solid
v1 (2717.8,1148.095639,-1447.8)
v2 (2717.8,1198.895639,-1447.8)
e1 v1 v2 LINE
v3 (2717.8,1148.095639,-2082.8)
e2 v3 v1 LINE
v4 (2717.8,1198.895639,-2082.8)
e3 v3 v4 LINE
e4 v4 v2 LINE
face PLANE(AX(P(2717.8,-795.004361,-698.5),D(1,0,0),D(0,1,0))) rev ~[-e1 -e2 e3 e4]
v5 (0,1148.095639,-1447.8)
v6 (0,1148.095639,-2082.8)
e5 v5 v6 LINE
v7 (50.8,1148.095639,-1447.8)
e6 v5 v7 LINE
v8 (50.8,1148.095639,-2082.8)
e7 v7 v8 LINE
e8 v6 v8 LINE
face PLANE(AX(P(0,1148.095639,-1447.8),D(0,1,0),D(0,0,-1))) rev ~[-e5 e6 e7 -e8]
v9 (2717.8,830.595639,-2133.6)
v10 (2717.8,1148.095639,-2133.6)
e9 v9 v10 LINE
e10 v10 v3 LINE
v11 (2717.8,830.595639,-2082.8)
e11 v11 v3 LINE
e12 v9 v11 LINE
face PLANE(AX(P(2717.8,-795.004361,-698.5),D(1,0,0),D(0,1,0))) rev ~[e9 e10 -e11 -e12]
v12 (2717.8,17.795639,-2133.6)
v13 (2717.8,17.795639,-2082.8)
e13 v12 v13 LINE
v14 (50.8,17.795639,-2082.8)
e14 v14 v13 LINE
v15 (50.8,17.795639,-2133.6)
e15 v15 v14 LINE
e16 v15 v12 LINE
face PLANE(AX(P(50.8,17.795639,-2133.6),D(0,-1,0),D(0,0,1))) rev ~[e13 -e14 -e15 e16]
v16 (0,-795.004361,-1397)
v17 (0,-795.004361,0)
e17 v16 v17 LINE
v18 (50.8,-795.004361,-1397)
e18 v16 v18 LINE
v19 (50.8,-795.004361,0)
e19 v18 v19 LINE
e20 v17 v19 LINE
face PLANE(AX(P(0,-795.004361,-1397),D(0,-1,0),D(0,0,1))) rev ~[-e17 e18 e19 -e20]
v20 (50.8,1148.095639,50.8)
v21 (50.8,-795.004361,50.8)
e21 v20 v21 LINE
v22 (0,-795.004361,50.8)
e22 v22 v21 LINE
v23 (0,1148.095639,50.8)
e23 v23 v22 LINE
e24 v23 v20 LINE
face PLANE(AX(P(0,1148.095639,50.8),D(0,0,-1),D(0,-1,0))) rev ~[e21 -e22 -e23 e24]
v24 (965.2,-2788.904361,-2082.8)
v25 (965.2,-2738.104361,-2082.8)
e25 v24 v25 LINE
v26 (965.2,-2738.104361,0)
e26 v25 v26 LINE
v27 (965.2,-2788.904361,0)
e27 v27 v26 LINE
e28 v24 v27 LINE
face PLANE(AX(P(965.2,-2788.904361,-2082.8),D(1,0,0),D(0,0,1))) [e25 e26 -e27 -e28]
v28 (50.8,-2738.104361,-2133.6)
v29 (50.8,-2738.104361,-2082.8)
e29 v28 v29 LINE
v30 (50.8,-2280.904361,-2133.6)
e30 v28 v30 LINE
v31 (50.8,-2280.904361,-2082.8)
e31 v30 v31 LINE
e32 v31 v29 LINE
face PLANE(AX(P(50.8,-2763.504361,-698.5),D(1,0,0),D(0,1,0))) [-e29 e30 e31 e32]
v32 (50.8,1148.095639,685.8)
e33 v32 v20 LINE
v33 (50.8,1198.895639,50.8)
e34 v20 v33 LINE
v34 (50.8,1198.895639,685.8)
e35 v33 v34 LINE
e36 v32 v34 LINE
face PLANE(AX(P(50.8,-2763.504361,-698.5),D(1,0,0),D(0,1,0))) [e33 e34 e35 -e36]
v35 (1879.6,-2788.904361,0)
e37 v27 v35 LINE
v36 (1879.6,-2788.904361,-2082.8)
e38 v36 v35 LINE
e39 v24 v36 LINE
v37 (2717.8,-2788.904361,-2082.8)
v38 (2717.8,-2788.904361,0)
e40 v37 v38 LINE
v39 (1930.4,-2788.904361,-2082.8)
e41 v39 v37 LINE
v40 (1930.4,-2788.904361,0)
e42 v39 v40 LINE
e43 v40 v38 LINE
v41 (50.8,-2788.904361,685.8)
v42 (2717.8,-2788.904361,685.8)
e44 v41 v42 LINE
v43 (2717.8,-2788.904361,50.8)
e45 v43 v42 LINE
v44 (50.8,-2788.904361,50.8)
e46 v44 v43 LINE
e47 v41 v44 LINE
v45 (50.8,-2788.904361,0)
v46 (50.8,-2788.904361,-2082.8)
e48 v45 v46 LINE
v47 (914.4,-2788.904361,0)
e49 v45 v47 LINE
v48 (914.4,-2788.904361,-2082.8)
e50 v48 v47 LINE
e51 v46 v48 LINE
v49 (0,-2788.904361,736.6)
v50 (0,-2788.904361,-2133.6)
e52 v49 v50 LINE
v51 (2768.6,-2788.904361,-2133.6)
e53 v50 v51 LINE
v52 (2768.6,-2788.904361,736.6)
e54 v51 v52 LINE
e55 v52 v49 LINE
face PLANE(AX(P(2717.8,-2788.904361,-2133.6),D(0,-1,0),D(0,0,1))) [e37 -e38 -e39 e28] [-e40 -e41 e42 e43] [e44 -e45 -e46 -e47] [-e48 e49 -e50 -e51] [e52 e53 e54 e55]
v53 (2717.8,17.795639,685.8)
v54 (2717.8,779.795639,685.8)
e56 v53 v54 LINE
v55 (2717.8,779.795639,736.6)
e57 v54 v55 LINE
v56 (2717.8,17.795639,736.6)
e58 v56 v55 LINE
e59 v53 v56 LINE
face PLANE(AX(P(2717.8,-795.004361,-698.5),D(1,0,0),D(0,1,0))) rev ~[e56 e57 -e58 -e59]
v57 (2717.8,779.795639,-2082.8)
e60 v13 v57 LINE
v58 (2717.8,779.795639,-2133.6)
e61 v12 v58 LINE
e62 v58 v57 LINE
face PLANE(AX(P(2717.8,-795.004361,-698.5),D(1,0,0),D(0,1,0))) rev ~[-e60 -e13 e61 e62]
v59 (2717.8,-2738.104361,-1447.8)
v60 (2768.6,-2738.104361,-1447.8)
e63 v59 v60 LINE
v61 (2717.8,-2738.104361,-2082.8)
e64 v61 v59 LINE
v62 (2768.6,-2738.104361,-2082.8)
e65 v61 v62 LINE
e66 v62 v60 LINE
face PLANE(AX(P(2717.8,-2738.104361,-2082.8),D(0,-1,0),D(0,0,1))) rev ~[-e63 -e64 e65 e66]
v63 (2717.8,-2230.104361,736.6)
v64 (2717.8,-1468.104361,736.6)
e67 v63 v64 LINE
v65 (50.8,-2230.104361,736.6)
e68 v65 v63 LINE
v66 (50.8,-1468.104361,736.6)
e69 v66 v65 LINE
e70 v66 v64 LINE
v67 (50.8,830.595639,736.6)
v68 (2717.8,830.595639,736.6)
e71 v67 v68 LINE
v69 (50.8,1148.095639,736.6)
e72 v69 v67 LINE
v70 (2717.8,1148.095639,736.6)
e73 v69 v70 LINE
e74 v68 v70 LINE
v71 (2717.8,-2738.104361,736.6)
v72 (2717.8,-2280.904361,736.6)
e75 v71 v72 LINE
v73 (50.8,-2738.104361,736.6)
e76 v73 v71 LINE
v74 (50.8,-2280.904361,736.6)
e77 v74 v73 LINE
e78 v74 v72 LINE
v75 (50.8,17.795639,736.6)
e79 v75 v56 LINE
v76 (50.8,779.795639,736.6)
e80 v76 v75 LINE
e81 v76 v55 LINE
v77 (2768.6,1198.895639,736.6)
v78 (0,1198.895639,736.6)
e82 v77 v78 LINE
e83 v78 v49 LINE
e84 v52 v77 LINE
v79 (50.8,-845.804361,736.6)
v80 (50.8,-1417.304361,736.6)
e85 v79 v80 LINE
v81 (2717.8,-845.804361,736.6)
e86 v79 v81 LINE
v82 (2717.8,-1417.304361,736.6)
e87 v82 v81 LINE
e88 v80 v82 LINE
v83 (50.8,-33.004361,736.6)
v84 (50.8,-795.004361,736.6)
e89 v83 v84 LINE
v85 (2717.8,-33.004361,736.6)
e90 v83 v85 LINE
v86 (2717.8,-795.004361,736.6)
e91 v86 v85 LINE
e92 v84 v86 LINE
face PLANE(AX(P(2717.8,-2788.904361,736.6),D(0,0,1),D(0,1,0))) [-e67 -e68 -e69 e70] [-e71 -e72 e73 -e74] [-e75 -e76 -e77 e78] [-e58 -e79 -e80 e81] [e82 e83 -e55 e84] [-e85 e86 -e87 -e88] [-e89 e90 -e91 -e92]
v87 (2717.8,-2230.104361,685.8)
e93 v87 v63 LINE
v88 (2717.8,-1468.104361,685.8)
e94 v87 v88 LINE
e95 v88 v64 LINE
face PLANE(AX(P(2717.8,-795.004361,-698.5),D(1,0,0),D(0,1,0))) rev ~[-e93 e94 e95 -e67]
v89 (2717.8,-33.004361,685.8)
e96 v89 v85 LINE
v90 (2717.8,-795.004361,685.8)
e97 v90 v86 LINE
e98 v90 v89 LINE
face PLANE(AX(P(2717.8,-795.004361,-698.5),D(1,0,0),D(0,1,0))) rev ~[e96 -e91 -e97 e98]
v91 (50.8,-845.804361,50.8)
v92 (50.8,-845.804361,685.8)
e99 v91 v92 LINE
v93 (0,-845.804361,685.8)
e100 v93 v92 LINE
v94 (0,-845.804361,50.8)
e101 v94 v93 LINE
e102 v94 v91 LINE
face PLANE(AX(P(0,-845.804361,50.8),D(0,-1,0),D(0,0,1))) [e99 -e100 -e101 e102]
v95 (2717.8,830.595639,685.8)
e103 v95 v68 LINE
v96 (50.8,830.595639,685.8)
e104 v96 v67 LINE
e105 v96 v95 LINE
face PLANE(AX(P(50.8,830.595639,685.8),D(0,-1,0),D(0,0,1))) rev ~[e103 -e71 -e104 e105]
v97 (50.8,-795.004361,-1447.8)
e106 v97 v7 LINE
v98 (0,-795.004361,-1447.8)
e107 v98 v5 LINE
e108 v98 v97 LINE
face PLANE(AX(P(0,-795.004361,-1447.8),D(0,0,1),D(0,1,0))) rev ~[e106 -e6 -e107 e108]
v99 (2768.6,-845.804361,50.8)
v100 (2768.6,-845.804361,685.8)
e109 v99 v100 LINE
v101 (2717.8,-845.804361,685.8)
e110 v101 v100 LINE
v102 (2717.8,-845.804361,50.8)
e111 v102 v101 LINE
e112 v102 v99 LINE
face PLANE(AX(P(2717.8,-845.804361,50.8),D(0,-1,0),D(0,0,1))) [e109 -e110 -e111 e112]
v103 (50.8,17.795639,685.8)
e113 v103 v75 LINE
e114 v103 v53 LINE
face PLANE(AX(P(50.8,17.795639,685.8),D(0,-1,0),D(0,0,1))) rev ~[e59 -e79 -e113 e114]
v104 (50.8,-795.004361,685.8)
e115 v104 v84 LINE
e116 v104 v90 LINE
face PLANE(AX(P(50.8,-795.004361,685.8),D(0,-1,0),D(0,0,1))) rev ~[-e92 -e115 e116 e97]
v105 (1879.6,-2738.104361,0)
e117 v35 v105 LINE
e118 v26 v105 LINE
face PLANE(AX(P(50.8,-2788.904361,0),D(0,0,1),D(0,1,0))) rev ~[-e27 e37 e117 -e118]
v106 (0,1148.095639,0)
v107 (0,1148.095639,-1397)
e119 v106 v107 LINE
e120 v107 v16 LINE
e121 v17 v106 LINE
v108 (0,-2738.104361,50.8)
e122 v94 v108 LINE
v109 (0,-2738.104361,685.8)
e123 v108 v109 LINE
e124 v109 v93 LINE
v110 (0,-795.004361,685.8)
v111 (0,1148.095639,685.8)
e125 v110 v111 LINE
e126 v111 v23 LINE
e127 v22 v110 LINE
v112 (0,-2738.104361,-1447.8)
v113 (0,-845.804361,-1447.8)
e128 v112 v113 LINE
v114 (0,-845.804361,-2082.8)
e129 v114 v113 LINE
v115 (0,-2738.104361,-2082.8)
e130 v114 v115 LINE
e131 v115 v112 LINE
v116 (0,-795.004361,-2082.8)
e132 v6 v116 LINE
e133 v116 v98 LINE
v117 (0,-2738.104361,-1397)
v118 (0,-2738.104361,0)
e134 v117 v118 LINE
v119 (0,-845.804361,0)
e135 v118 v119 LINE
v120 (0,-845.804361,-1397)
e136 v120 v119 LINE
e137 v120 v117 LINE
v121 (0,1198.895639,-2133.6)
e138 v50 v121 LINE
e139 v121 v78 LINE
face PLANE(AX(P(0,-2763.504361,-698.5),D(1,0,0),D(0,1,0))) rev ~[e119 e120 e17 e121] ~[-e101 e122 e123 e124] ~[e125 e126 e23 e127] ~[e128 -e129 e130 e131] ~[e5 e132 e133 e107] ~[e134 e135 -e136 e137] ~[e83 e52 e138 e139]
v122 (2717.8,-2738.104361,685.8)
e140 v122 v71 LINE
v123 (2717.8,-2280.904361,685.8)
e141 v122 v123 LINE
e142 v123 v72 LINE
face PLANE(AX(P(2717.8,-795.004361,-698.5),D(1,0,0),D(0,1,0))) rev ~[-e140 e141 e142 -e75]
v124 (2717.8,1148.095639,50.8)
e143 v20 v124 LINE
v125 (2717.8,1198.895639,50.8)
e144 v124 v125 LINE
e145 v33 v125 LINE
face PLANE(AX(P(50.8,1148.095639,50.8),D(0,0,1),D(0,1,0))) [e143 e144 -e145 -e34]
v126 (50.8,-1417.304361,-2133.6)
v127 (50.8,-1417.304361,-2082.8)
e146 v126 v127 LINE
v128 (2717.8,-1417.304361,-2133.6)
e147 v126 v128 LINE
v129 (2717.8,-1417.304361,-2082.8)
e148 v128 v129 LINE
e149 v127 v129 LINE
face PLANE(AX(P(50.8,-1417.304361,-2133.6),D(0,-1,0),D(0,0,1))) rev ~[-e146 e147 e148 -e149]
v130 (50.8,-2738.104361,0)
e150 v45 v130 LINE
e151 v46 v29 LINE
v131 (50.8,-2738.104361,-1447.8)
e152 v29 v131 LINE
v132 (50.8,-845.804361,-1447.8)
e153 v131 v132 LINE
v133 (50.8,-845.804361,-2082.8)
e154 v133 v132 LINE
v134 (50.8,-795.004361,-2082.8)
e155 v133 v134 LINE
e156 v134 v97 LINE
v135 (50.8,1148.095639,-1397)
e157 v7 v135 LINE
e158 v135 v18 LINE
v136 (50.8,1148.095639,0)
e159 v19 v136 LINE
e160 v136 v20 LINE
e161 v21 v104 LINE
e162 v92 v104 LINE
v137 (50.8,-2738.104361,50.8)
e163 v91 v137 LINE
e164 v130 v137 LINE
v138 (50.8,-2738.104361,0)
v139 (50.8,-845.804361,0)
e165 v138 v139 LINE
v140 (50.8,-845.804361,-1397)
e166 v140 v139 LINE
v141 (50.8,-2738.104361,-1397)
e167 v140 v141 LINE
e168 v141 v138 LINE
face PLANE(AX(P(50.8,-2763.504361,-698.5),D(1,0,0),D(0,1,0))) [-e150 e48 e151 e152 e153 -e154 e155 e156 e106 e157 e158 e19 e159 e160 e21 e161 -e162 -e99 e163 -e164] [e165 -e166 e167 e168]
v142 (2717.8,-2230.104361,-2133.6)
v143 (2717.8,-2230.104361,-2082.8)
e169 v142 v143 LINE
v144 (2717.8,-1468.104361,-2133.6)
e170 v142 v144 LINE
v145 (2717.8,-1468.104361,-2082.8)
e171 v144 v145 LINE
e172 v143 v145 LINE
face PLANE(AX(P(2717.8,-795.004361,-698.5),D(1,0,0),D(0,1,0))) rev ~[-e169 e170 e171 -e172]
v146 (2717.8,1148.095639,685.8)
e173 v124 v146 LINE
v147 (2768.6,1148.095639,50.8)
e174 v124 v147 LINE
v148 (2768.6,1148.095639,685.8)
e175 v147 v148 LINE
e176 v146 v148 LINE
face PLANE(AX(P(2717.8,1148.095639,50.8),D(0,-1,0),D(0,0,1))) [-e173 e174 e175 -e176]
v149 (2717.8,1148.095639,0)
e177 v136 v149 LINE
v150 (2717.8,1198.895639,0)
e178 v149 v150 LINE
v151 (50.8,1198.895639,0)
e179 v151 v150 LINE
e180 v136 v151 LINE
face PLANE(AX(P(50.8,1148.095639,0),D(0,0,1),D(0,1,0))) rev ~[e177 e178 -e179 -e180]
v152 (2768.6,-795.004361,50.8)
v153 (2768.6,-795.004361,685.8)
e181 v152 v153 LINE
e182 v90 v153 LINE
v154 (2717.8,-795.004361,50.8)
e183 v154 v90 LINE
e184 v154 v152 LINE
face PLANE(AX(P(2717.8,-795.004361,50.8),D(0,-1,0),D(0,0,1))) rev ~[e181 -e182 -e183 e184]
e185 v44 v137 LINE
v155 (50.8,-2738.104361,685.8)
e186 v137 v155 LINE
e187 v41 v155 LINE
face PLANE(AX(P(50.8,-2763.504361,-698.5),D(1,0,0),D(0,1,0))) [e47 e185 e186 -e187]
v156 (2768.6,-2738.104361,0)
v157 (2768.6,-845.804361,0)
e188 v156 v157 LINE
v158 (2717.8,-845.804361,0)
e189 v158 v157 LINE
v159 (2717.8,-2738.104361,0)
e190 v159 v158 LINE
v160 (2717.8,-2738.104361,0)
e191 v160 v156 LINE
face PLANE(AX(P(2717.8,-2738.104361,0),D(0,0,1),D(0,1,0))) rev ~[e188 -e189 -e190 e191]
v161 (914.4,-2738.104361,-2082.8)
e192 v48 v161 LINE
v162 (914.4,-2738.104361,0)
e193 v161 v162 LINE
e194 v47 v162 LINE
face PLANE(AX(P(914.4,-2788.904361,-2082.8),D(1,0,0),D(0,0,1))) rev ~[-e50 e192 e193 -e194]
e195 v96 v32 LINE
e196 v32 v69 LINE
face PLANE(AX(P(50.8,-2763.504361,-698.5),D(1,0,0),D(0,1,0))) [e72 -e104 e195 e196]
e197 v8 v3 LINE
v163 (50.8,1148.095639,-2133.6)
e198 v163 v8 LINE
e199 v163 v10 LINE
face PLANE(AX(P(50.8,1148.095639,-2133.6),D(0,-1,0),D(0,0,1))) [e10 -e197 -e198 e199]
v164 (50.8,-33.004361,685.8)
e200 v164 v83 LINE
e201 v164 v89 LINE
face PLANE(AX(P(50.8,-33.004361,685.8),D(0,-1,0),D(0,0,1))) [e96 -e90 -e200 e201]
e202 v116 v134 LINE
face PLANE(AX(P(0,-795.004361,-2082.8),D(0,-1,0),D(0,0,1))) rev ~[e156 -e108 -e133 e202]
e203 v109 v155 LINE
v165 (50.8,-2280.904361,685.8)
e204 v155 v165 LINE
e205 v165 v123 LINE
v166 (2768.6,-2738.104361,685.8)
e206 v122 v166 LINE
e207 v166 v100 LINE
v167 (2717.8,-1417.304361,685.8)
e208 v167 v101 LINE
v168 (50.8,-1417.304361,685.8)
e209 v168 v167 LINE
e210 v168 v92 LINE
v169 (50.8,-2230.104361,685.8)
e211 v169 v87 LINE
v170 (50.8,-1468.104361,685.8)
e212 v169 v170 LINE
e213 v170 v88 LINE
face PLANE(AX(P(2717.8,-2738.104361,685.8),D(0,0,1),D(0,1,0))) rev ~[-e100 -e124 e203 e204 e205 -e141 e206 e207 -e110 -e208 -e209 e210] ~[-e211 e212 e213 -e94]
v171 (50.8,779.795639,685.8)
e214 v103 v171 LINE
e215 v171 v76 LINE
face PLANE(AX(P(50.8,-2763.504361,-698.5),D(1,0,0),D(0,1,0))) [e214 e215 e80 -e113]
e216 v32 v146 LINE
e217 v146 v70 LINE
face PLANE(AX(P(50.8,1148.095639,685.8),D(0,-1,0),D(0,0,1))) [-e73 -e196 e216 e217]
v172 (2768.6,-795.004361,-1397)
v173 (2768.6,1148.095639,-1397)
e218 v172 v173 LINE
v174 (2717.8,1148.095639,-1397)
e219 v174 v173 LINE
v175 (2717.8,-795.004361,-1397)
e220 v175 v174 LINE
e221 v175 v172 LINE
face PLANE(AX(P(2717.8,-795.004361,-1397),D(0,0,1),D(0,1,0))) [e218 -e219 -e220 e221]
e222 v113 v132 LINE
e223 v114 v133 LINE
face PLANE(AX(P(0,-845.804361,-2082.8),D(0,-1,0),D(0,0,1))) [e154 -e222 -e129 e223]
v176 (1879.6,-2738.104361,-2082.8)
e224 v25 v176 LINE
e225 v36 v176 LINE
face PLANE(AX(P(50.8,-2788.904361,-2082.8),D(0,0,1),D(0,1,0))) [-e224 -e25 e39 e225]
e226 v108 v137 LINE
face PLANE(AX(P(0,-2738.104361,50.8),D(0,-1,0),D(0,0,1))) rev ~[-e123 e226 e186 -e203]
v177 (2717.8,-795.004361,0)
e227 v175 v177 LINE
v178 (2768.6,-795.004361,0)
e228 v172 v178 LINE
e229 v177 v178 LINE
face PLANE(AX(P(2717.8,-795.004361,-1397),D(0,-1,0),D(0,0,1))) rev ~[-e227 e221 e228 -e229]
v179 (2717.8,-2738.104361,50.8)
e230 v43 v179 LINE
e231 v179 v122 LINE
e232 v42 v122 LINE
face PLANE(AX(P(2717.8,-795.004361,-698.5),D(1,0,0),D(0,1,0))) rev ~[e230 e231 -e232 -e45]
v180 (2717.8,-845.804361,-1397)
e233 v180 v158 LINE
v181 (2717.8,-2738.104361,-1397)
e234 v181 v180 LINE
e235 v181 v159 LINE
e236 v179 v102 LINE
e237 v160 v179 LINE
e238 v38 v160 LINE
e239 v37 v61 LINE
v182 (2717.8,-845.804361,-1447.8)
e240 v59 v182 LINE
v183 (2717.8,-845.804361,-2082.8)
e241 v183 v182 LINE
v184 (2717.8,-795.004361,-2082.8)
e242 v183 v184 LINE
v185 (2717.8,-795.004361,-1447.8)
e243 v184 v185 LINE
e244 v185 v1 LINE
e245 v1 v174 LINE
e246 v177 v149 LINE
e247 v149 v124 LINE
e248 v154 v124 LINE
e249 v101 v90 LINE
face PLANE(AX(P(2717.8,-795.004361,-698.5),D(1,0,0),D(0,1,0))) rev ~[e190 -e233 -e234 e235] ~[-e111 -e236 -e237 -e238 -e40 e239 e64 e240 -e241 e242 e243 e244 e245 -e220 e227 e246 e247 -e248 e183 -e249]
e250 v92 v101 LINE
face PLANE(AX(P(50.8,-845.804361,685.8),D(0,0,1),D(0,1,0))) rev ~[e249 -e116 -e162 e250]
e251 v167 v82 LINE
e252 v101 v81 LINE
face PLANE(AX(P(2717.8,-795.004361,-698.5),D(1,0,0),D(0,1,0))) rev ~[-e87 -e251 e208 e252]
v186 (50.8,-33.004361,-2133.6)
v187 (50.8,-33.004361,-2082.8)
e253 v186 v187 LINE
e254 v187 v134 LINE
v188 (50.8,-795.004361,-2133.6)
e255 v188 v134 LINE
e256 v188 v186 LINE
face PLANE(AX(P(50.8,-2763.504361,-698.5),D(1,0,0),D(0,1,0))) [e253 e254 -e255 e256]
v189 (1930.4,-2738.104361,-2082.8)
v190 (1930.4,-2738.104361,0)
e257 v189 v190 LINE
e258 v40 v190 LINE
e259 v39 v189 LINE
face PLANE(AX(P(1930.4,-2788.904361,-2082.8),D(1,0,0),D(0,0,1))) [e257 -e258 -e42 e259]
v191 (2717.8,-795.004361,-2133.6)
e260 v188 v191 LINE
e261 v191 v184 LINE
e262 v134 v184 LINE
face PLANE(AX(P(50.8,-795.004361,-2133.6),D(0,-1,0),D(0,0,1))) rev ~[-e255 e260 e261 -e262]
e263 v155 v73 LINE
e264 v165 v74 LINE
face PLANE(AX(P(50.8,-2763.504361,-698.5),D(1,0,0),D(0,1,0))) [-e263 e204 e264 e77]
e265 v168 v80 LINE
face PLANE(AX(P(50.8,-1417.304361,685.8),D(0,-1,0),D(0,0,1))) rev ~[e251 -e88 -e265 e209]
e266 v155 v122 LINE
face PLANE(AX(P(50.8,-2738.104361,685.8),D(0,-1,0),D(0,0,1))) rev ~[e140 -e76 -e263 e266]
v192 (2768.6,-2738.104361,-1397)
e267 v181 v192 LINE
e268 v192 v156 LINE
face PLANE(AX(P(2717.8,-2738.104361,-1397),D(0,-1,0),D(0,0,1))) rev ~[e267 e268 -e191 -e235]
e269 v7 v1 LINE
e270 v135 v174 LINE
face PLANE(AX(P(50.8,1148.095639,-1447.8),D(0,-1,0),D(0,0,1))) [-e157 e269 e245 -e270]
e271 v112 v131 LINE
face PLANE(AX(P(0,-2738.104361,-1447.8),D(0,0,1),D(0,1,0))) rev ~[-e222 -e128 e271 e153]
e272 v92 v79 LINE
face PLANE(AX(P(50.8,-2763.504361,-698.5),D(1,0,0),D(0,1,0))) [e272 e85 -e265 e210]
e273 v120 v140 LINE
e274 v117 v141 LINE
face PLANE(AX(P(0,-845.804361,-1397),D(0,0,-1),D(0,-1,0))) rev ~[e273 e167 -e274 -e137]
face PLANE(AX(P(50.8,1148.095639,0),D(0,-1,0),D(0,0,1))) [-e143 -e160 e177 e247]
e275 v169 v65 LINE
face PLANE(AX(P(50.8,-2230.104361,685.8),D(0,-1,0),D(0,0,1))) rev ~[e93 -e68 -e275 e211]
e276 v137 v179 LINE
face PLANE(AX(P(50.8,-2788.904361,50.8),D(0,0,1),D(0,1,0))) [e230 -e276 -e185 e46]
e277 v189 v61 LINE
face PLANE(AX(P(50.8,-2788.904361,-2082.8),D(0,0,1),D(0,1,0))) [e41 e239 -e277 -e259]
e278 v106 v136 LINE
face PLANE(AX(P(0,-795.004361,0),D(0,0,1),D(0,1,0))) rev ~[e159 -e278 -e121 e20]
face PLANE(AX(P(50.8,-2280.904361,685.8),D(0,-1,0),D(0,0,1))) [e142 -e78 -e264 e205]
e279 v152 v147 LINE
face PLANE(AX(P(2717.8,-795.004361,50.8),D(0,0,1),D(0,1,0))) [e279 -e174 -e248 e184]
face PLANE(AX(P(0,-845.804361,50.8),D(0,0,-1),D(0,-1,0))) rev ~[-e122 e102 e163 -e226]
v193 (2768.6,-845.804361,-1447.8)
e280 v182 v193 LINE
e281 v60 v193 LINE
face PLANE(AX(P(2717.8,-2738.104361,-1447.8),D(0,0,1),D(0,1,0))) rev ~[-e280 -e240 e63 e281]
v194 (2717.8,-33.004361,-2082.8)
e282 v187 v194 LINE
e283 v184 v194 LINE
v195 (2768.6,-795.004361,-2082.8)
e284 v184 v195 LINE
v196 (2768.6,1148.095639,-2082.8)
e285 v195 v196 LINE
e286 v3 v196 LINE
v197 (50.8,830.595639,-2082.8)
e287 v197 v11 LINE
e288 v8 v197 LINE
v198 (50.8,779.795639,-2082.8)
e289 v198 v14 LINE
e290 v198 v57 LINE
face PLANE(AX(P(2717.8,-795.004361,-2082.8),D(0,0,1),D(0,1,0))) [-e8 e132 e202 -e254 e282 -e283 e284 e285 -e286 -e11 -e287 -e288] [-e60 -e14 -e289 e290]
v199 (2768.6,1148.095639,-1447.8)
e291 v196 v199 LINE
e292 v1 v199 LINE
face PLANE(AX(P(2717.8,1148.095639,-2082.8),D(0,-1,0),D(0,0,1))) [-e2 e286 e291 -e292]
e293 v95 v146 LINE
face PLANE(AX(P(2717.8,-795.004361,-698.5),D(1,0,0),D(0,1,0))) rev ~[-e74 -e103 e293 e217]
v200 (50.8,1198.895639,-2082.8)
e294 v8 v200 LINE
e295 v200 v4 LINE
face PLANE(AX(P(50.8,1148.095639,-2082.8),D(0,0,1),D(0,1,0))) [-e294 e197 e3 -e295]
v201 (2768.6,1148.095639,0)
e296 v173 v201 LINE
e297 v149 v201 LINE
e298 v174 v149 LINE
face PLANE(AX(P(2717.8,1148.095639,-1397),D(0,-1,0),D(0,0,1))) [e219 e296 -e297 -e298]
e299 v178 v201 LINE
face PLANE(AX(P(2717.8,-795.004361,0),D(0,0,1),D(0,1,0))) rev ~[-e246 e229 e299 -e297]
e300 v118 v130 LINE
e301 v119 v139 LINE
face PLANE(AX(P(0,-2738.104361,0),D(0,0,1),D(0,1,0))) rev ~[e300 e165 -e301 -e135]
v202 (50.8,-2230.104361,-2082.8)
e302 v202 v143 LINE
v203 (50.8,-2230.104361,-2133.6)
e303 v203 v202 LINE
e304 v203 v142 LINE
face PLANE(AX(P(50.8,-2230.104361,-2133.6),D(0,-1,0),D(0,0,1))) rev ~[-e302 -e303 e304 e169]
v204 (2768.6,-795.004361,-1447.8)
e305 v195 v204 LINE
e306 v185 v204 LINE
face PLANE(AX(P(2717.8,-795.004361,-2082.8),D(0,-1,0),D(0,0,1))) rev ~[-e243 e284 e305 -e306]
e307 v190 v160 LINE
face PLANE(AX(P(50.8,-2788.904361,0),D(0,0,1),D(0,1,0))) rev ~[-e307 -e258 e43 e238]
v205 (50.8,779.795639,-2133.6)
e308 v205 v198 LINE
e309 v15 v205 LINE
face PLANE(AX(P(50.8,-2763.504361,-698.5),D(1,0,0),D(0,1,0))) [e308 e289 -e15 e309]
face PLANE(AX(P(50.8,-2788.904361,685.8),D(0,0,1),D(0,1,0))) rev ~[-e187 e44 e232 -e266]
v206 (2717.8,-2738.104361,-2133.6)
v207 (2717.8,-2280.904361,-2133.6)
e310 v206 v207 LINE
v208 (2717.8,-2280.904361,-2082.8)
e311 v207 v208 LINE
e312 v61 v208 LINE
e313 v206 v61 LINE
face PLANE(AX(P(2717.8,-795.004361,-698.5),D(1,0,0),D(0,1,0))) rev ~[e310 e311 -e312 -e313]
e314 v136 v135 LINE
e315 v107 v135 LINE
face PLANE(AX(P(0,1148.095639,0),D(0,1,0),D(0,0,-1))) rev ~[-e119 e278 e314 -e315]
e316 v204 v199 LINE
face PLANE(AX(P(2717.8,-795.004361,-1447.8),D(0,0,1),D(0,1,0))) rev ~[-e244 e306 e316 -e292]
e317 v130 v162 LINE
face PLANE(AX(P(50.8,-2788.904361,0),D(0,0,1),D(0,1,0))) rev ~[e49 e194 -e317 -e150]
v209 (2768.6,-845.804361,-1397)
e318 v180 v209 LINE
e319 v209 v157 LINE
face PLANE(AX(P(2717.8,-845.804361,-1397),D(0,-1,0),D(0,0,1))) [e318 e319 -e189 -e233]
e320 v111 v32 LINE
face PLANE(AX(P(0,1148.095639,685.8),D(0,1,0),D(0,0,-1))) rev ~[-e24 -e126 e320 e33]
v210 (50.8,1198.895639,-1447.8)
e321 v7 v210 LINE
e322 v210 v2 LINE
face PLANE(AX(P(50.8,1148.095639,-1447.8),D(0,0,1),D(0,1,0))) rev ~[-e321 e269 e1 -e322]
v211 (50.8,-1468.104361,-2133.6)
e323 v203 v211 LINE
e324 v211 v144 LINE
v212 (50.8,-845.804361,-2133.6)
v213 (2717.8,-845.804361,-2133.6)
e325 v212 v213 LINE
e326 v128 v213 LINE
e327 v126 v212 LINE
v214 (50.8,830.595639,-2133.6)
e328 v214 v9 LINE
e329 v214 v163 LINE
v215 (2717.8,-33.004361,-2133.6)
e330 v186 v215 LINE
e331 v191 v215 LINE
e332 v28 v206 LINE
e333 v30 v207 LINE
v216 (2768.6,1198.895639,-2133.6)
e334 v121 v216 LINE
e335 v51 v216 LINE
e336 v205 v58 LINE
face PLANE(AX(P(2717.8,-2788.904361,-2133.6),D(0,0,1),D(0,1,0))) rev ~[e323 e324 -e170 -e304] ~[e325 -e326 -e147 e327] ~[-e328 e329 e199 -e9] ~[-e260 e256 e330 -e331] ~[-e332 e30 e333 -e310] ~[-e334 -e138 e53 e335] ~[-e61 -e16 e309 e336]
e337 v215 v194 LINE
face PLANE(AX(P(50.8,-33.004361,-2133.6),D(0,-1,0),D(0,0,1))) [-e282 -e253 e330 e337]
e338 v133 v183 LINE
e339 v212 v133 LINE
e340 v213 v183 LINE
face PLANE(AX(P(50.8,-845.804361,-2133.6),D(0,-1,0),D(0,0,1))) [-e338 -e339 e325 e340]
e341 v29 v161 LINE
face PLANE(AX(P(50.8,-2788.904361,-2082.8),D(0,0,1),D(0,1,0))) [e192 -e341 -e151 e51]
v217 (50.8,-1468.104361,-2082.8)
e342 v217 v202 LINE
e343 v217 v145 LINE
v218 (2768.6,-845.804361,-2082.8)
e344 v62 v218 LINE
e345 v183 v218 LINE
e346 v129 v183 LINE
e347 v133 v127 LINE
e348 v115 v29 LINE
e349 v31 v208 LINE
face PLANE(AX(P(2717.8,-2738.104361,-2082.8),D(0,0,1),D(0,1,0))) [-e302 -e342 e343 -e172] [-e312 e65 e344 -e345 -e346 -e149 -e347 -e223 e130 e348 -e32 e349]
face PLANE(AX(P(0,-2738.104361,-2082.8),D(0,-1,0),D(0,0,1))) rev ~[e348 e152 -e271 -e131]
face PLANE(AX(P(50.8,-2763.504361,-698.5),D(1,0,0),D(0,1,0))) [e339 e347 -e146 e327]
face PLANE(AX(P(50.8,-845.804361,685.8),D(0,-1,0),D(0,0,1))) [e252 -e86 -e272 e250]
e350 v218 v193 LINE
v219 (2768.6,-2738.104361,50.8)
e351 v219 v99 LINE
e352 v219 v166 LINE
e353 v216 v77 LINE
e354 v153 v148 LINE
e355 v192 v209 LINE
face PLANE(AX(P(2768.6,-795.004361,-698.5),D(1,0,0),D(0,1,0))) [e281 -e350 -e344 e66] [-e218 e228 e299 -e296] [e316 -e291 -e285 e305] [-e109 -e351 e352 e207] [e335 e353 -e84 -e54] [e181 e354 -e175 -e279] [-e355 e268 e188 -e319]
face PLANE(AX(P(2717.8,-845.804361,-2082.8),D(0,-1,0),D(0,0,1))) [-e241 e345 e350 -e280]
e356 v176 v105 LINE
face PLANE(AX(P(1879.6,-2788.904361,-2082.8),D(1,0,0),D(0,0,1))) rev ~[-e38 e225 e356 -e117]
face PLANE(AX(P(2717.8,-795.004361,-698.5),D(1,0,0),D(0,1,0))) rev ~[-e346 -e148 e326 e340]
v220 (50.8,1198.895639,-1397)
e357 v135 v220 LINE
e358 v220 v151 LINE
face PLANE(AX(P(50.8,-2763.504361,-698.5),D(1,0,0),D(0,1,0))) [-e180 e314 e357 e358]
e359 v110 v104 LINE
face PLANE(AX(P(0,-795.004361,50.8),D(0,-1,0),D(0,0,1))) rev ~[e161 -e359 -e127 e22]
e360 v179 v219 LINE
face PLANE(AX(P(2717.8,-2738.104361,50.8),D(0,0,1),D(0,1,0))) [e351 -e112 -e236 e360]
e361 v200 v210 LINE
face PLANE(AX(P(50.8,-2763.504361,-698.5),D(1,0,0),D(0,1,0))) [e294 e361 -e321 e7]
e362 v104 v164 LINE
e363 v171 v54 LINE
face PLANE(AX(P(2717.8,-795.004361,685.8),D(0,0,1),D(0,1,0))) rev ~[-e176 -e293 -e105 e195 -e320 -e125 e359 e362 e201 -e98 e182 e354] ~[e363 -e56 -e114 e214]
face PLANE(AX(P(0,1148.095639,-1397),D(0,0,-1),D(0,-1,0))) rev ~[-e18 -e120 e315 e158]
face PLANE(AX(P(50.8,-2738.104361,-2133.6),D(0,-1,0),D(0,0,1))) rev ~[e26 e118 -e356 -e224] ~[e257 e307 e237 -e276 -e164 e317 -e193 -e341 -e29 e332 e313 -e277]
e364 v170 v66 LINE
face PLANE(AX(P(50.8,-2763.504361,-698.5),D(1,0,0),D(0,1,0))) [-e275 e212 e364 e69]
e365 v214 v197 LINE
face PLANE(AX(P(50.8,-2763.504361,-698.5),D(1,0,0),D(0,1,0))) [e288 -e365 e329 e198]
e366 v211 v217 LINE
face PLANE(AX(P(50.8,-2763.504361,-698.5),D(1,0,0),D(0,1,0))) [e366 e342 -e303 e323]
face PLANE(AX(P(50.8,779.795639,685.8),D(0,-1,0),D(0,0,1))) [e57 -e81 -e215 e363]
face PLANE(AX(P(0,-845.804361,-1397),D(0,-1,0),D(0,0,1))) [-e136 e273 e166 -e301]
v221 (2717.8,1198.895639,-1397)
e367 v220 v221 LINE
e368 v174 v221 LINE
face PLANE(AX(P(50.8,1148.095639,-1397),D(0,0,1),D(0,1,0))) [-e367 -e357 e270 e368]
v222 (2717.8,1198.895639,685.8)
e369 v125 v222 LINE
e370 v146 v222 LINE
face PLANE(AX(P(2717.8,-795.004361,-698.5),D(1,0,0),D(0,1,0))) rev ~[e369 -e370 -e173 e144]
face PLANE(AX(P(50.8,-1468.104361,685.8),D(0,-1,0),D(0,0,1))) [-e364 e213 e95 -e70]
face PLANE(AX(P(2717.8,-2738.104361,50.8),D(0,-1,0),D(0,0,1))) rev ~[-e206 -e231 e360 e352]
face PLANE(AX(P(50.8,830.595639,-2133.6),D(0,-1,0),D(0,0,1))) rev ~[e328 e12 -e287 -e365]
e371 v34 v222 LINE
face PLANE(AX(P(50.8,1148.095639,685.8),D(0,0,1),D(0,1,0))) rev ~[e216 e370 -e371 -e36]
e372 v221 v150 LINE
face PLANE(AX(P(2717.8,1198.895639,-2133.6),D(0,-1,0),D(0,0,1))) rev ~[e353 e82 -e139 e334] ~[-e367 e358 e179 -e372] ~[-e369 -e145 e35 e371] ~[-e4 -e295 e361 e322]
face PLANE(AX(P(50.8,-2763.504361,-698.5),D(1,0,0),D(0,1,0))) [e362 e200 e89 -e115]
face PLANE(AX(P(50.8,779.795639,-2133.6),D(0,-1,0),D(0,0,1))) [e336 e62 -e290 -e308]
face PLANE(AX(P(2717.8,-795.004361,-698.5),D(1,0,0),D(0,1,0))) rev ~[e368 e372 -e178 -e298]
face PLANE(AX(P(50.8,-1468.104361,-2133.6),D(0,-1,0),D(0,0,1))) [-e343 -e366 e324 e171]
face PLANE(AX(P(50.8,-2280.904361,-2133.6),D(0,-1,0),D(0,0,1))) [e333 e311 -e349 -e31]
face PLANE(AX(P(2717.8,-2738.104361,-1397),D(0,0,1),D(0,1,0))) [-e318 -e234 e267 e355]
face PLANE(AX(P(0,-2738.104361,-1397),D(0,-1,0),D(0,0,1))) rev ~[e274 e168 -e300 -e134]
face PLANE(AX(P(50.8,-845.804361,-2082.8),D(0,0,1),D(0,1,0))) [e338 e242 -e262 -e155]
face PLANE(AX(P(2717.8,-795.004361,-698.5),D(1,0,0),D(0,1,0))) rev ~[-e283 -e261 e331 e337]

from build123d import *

# Parameters (mm, degrees)
F0_W     = 50.8
F0_H     = 635
F0_H_2   = 1397
F1_DEPTH = 50.8
F2_W     = 50.8
F2_H     = 50.8
F3_DEPTH = 2667
F4_W     = 50.8
F4_H     = 2082.8
F5_DEPTH = 50.8
F6_W     = 3987.8
F6_H     = 2870.2
F6_W_2   = 1892.3
F6_H_2   = 635
F6_H_3   = 1397
F6_W_3   = 1943.1
F7_DEPTH = 50.8


with BuildPart() as f1:
    # F0 (on Right) → F1 (new body)
    with BuildSketch(Plane.YZ):
        Polygon((-2738.104361, 736.6), (-2788.904361, 736.6), (-2788.904361, -2133.6), (-2738.104361, -2133.6), (-2738.104361, -2082.8), (-2738.104361, -1447.8), (-2738.104361, -1397), (-2738.104361, 0), (-2738.104361, 50.8), (-2738.104361, 685.8), align=None)
        Polygon((1148.095639, 736.6), (-2738.104361, 736.6), (-2738.104361, 685.8), (-845.804361, 685.8), (-795.004361, 685.8), (1148.095639, 685.8), align=None)
        Polygon((1198.895639, 736.6), (1148.095639, 736.6), (1148.095639, 685.8), (1148.095639, 50.8), (1148.095639, 0), (1148.095639, -1397), (1148.095639, -1447.8), (1148.095639, -2082.8), (1148.095639, -2133.6), (1198.895639, -2133.6), align=None)
        Polygon((-2738.104361, -2082.8), (-2738.104361, -2133.6), (1148.095639, -2133.6), (1148.095639, -2082.8), (-795.004361, -2082.8), (-845.804361, -2082.8), align=None)
        Polygon((-845.804361, 50.8), (-2738.104361, 50.8), (-2738.104361, 0), (-845.804361, 0), (-795.004361, 0), (1148.095639, 0), (1148.095639, 50.8), (-795.004361, 50.8), align=None)
        with Locations((-820.404361, 368.3)):
            Rectangle(F0_W, F0_H)
        with Locations((-820.404361, -698.5)):
            Rectangle(F0_W, F0_H_2)
        with Locations((-820.404361, -1765.3)):
            Rectangle(F0_W, F0_H)
        Polygon((-2738.104361, -1397), (-2738.104361, -1447.8), (-845.804361, -1447.8), (-795.004361, -1447.8), (1148.095639, -1447.8), (1148.095639, -1397), (-795.004361, -1397), (-845.804361, -1397), align=None)
    extrude(amount=F1_DEPTH)

    # F2 (on face) → F3 (join)
    with BuildSketch(Plane.YZ.offset(50.8)):
        with Locations((-2763.504361, 711.2)):
            Rectangle(F2_W, F2_H)
        with Locations((-2763.504361, 25.4)):
            Rectangle(F2_W, F2_H)
        with Locations((-2763.504361, -2108.2)):
            Rectangle(F2_W, F2_H)
        with Locations((-820.404361, -2108.2)):
            Rectangle(F2_W, F2_H)
        with Locations((1173.495639, -2108.2)):
            Rectangle(F2_W, F2_H)
        with Locations((1173.495639, -1422.4)):
            Rectangle(F2_W, F2_H)
        with Locations((1173.495639, 25.4)):
            Rectangle(F2_W, F2_H)
        with Locations((1173.495639, 711.2)):
            Rectangle(F2_W, F2_H)
        with Locations((-820.404361, 711.2)):
            Rectangle(F2_W, F2_H)
        with Locations((-2255.504361, -2108.2)):
            Rectangle(F2_W, F2_H)
        with Locations((-1442.704361, -2108.2)):
            Rectangle(F2_W, F2_H)
        with Locations((-7.604361, -2108.2)):
            Rectangle(F2_W, F2_H)
        with Locations((805.195639, -2108.2)):
            Rectangle(F2_W, F2_H)
        with Locations((805.195639, 711.2)):
            Rectangle(F2_W, F2_H)
        with Locations((-7.604361, 711.2)):
            Rectangle(F2_W, F2_H)
        with Locations((-1442.704361, 711.2)):
            Rectangle(F2_W, F2_H)
        with Locations((-2255.504361, 711.2)):
            Rectangle(F2_W, F2_H)
    extrude(amount=F3_DEPTH)

    # F4 (on face) → F5 (join)
    with BuildSketch(Plane.XZ.offset(2788.904361)):
        with Locations((939.8, -1041.4)):
            Rectangle(F4_W, F4_H)
        with Locations((1905, -1041.4)):
            Rectangle(F4_W, F4_H)
    extrude(amount=-F5_DEPTH)

    # F6 (on face) → F7 (join)
    with BuildSketch(Plane.YZ.offset(2717.8)):
        with Locations((-795.004361, -698.5)):
            Rectangle(F6_W, F6_H)
        with Locations((-1791.954361, -1765.3)):
            Rectangle(F6_W_2, F6_H_2, mode=Mode.SUBTRACT)
        with Locations((-1791.954361, -698.5)):
            Rectangle(F6_W_2, F6_H_3, mode=Mode.SUBTRACT)
        with Locations((176.545639, -1765.3)):
            Rectangle(F6_W_3, F6_H_2, mode=Mode.SUBTRACT)
        with Locations((176.545639, -698.5)):
            Rectangle(F6_W_3, F6_H_3, mode=Mode.SUBTRACT)
        with Locations((-1791.954361, 368.3)):
            Rectangle(F6_W_2, F6_H_2, mode=Mode.SUBTRACT)
        with Locations((176.545639, 368.3)):
            Rectangle(F6_W_3, F6_H_2, mode=Mode.SUBTRACT)
    extrude(amount=F7_DEPTH)


solid = f1.part
